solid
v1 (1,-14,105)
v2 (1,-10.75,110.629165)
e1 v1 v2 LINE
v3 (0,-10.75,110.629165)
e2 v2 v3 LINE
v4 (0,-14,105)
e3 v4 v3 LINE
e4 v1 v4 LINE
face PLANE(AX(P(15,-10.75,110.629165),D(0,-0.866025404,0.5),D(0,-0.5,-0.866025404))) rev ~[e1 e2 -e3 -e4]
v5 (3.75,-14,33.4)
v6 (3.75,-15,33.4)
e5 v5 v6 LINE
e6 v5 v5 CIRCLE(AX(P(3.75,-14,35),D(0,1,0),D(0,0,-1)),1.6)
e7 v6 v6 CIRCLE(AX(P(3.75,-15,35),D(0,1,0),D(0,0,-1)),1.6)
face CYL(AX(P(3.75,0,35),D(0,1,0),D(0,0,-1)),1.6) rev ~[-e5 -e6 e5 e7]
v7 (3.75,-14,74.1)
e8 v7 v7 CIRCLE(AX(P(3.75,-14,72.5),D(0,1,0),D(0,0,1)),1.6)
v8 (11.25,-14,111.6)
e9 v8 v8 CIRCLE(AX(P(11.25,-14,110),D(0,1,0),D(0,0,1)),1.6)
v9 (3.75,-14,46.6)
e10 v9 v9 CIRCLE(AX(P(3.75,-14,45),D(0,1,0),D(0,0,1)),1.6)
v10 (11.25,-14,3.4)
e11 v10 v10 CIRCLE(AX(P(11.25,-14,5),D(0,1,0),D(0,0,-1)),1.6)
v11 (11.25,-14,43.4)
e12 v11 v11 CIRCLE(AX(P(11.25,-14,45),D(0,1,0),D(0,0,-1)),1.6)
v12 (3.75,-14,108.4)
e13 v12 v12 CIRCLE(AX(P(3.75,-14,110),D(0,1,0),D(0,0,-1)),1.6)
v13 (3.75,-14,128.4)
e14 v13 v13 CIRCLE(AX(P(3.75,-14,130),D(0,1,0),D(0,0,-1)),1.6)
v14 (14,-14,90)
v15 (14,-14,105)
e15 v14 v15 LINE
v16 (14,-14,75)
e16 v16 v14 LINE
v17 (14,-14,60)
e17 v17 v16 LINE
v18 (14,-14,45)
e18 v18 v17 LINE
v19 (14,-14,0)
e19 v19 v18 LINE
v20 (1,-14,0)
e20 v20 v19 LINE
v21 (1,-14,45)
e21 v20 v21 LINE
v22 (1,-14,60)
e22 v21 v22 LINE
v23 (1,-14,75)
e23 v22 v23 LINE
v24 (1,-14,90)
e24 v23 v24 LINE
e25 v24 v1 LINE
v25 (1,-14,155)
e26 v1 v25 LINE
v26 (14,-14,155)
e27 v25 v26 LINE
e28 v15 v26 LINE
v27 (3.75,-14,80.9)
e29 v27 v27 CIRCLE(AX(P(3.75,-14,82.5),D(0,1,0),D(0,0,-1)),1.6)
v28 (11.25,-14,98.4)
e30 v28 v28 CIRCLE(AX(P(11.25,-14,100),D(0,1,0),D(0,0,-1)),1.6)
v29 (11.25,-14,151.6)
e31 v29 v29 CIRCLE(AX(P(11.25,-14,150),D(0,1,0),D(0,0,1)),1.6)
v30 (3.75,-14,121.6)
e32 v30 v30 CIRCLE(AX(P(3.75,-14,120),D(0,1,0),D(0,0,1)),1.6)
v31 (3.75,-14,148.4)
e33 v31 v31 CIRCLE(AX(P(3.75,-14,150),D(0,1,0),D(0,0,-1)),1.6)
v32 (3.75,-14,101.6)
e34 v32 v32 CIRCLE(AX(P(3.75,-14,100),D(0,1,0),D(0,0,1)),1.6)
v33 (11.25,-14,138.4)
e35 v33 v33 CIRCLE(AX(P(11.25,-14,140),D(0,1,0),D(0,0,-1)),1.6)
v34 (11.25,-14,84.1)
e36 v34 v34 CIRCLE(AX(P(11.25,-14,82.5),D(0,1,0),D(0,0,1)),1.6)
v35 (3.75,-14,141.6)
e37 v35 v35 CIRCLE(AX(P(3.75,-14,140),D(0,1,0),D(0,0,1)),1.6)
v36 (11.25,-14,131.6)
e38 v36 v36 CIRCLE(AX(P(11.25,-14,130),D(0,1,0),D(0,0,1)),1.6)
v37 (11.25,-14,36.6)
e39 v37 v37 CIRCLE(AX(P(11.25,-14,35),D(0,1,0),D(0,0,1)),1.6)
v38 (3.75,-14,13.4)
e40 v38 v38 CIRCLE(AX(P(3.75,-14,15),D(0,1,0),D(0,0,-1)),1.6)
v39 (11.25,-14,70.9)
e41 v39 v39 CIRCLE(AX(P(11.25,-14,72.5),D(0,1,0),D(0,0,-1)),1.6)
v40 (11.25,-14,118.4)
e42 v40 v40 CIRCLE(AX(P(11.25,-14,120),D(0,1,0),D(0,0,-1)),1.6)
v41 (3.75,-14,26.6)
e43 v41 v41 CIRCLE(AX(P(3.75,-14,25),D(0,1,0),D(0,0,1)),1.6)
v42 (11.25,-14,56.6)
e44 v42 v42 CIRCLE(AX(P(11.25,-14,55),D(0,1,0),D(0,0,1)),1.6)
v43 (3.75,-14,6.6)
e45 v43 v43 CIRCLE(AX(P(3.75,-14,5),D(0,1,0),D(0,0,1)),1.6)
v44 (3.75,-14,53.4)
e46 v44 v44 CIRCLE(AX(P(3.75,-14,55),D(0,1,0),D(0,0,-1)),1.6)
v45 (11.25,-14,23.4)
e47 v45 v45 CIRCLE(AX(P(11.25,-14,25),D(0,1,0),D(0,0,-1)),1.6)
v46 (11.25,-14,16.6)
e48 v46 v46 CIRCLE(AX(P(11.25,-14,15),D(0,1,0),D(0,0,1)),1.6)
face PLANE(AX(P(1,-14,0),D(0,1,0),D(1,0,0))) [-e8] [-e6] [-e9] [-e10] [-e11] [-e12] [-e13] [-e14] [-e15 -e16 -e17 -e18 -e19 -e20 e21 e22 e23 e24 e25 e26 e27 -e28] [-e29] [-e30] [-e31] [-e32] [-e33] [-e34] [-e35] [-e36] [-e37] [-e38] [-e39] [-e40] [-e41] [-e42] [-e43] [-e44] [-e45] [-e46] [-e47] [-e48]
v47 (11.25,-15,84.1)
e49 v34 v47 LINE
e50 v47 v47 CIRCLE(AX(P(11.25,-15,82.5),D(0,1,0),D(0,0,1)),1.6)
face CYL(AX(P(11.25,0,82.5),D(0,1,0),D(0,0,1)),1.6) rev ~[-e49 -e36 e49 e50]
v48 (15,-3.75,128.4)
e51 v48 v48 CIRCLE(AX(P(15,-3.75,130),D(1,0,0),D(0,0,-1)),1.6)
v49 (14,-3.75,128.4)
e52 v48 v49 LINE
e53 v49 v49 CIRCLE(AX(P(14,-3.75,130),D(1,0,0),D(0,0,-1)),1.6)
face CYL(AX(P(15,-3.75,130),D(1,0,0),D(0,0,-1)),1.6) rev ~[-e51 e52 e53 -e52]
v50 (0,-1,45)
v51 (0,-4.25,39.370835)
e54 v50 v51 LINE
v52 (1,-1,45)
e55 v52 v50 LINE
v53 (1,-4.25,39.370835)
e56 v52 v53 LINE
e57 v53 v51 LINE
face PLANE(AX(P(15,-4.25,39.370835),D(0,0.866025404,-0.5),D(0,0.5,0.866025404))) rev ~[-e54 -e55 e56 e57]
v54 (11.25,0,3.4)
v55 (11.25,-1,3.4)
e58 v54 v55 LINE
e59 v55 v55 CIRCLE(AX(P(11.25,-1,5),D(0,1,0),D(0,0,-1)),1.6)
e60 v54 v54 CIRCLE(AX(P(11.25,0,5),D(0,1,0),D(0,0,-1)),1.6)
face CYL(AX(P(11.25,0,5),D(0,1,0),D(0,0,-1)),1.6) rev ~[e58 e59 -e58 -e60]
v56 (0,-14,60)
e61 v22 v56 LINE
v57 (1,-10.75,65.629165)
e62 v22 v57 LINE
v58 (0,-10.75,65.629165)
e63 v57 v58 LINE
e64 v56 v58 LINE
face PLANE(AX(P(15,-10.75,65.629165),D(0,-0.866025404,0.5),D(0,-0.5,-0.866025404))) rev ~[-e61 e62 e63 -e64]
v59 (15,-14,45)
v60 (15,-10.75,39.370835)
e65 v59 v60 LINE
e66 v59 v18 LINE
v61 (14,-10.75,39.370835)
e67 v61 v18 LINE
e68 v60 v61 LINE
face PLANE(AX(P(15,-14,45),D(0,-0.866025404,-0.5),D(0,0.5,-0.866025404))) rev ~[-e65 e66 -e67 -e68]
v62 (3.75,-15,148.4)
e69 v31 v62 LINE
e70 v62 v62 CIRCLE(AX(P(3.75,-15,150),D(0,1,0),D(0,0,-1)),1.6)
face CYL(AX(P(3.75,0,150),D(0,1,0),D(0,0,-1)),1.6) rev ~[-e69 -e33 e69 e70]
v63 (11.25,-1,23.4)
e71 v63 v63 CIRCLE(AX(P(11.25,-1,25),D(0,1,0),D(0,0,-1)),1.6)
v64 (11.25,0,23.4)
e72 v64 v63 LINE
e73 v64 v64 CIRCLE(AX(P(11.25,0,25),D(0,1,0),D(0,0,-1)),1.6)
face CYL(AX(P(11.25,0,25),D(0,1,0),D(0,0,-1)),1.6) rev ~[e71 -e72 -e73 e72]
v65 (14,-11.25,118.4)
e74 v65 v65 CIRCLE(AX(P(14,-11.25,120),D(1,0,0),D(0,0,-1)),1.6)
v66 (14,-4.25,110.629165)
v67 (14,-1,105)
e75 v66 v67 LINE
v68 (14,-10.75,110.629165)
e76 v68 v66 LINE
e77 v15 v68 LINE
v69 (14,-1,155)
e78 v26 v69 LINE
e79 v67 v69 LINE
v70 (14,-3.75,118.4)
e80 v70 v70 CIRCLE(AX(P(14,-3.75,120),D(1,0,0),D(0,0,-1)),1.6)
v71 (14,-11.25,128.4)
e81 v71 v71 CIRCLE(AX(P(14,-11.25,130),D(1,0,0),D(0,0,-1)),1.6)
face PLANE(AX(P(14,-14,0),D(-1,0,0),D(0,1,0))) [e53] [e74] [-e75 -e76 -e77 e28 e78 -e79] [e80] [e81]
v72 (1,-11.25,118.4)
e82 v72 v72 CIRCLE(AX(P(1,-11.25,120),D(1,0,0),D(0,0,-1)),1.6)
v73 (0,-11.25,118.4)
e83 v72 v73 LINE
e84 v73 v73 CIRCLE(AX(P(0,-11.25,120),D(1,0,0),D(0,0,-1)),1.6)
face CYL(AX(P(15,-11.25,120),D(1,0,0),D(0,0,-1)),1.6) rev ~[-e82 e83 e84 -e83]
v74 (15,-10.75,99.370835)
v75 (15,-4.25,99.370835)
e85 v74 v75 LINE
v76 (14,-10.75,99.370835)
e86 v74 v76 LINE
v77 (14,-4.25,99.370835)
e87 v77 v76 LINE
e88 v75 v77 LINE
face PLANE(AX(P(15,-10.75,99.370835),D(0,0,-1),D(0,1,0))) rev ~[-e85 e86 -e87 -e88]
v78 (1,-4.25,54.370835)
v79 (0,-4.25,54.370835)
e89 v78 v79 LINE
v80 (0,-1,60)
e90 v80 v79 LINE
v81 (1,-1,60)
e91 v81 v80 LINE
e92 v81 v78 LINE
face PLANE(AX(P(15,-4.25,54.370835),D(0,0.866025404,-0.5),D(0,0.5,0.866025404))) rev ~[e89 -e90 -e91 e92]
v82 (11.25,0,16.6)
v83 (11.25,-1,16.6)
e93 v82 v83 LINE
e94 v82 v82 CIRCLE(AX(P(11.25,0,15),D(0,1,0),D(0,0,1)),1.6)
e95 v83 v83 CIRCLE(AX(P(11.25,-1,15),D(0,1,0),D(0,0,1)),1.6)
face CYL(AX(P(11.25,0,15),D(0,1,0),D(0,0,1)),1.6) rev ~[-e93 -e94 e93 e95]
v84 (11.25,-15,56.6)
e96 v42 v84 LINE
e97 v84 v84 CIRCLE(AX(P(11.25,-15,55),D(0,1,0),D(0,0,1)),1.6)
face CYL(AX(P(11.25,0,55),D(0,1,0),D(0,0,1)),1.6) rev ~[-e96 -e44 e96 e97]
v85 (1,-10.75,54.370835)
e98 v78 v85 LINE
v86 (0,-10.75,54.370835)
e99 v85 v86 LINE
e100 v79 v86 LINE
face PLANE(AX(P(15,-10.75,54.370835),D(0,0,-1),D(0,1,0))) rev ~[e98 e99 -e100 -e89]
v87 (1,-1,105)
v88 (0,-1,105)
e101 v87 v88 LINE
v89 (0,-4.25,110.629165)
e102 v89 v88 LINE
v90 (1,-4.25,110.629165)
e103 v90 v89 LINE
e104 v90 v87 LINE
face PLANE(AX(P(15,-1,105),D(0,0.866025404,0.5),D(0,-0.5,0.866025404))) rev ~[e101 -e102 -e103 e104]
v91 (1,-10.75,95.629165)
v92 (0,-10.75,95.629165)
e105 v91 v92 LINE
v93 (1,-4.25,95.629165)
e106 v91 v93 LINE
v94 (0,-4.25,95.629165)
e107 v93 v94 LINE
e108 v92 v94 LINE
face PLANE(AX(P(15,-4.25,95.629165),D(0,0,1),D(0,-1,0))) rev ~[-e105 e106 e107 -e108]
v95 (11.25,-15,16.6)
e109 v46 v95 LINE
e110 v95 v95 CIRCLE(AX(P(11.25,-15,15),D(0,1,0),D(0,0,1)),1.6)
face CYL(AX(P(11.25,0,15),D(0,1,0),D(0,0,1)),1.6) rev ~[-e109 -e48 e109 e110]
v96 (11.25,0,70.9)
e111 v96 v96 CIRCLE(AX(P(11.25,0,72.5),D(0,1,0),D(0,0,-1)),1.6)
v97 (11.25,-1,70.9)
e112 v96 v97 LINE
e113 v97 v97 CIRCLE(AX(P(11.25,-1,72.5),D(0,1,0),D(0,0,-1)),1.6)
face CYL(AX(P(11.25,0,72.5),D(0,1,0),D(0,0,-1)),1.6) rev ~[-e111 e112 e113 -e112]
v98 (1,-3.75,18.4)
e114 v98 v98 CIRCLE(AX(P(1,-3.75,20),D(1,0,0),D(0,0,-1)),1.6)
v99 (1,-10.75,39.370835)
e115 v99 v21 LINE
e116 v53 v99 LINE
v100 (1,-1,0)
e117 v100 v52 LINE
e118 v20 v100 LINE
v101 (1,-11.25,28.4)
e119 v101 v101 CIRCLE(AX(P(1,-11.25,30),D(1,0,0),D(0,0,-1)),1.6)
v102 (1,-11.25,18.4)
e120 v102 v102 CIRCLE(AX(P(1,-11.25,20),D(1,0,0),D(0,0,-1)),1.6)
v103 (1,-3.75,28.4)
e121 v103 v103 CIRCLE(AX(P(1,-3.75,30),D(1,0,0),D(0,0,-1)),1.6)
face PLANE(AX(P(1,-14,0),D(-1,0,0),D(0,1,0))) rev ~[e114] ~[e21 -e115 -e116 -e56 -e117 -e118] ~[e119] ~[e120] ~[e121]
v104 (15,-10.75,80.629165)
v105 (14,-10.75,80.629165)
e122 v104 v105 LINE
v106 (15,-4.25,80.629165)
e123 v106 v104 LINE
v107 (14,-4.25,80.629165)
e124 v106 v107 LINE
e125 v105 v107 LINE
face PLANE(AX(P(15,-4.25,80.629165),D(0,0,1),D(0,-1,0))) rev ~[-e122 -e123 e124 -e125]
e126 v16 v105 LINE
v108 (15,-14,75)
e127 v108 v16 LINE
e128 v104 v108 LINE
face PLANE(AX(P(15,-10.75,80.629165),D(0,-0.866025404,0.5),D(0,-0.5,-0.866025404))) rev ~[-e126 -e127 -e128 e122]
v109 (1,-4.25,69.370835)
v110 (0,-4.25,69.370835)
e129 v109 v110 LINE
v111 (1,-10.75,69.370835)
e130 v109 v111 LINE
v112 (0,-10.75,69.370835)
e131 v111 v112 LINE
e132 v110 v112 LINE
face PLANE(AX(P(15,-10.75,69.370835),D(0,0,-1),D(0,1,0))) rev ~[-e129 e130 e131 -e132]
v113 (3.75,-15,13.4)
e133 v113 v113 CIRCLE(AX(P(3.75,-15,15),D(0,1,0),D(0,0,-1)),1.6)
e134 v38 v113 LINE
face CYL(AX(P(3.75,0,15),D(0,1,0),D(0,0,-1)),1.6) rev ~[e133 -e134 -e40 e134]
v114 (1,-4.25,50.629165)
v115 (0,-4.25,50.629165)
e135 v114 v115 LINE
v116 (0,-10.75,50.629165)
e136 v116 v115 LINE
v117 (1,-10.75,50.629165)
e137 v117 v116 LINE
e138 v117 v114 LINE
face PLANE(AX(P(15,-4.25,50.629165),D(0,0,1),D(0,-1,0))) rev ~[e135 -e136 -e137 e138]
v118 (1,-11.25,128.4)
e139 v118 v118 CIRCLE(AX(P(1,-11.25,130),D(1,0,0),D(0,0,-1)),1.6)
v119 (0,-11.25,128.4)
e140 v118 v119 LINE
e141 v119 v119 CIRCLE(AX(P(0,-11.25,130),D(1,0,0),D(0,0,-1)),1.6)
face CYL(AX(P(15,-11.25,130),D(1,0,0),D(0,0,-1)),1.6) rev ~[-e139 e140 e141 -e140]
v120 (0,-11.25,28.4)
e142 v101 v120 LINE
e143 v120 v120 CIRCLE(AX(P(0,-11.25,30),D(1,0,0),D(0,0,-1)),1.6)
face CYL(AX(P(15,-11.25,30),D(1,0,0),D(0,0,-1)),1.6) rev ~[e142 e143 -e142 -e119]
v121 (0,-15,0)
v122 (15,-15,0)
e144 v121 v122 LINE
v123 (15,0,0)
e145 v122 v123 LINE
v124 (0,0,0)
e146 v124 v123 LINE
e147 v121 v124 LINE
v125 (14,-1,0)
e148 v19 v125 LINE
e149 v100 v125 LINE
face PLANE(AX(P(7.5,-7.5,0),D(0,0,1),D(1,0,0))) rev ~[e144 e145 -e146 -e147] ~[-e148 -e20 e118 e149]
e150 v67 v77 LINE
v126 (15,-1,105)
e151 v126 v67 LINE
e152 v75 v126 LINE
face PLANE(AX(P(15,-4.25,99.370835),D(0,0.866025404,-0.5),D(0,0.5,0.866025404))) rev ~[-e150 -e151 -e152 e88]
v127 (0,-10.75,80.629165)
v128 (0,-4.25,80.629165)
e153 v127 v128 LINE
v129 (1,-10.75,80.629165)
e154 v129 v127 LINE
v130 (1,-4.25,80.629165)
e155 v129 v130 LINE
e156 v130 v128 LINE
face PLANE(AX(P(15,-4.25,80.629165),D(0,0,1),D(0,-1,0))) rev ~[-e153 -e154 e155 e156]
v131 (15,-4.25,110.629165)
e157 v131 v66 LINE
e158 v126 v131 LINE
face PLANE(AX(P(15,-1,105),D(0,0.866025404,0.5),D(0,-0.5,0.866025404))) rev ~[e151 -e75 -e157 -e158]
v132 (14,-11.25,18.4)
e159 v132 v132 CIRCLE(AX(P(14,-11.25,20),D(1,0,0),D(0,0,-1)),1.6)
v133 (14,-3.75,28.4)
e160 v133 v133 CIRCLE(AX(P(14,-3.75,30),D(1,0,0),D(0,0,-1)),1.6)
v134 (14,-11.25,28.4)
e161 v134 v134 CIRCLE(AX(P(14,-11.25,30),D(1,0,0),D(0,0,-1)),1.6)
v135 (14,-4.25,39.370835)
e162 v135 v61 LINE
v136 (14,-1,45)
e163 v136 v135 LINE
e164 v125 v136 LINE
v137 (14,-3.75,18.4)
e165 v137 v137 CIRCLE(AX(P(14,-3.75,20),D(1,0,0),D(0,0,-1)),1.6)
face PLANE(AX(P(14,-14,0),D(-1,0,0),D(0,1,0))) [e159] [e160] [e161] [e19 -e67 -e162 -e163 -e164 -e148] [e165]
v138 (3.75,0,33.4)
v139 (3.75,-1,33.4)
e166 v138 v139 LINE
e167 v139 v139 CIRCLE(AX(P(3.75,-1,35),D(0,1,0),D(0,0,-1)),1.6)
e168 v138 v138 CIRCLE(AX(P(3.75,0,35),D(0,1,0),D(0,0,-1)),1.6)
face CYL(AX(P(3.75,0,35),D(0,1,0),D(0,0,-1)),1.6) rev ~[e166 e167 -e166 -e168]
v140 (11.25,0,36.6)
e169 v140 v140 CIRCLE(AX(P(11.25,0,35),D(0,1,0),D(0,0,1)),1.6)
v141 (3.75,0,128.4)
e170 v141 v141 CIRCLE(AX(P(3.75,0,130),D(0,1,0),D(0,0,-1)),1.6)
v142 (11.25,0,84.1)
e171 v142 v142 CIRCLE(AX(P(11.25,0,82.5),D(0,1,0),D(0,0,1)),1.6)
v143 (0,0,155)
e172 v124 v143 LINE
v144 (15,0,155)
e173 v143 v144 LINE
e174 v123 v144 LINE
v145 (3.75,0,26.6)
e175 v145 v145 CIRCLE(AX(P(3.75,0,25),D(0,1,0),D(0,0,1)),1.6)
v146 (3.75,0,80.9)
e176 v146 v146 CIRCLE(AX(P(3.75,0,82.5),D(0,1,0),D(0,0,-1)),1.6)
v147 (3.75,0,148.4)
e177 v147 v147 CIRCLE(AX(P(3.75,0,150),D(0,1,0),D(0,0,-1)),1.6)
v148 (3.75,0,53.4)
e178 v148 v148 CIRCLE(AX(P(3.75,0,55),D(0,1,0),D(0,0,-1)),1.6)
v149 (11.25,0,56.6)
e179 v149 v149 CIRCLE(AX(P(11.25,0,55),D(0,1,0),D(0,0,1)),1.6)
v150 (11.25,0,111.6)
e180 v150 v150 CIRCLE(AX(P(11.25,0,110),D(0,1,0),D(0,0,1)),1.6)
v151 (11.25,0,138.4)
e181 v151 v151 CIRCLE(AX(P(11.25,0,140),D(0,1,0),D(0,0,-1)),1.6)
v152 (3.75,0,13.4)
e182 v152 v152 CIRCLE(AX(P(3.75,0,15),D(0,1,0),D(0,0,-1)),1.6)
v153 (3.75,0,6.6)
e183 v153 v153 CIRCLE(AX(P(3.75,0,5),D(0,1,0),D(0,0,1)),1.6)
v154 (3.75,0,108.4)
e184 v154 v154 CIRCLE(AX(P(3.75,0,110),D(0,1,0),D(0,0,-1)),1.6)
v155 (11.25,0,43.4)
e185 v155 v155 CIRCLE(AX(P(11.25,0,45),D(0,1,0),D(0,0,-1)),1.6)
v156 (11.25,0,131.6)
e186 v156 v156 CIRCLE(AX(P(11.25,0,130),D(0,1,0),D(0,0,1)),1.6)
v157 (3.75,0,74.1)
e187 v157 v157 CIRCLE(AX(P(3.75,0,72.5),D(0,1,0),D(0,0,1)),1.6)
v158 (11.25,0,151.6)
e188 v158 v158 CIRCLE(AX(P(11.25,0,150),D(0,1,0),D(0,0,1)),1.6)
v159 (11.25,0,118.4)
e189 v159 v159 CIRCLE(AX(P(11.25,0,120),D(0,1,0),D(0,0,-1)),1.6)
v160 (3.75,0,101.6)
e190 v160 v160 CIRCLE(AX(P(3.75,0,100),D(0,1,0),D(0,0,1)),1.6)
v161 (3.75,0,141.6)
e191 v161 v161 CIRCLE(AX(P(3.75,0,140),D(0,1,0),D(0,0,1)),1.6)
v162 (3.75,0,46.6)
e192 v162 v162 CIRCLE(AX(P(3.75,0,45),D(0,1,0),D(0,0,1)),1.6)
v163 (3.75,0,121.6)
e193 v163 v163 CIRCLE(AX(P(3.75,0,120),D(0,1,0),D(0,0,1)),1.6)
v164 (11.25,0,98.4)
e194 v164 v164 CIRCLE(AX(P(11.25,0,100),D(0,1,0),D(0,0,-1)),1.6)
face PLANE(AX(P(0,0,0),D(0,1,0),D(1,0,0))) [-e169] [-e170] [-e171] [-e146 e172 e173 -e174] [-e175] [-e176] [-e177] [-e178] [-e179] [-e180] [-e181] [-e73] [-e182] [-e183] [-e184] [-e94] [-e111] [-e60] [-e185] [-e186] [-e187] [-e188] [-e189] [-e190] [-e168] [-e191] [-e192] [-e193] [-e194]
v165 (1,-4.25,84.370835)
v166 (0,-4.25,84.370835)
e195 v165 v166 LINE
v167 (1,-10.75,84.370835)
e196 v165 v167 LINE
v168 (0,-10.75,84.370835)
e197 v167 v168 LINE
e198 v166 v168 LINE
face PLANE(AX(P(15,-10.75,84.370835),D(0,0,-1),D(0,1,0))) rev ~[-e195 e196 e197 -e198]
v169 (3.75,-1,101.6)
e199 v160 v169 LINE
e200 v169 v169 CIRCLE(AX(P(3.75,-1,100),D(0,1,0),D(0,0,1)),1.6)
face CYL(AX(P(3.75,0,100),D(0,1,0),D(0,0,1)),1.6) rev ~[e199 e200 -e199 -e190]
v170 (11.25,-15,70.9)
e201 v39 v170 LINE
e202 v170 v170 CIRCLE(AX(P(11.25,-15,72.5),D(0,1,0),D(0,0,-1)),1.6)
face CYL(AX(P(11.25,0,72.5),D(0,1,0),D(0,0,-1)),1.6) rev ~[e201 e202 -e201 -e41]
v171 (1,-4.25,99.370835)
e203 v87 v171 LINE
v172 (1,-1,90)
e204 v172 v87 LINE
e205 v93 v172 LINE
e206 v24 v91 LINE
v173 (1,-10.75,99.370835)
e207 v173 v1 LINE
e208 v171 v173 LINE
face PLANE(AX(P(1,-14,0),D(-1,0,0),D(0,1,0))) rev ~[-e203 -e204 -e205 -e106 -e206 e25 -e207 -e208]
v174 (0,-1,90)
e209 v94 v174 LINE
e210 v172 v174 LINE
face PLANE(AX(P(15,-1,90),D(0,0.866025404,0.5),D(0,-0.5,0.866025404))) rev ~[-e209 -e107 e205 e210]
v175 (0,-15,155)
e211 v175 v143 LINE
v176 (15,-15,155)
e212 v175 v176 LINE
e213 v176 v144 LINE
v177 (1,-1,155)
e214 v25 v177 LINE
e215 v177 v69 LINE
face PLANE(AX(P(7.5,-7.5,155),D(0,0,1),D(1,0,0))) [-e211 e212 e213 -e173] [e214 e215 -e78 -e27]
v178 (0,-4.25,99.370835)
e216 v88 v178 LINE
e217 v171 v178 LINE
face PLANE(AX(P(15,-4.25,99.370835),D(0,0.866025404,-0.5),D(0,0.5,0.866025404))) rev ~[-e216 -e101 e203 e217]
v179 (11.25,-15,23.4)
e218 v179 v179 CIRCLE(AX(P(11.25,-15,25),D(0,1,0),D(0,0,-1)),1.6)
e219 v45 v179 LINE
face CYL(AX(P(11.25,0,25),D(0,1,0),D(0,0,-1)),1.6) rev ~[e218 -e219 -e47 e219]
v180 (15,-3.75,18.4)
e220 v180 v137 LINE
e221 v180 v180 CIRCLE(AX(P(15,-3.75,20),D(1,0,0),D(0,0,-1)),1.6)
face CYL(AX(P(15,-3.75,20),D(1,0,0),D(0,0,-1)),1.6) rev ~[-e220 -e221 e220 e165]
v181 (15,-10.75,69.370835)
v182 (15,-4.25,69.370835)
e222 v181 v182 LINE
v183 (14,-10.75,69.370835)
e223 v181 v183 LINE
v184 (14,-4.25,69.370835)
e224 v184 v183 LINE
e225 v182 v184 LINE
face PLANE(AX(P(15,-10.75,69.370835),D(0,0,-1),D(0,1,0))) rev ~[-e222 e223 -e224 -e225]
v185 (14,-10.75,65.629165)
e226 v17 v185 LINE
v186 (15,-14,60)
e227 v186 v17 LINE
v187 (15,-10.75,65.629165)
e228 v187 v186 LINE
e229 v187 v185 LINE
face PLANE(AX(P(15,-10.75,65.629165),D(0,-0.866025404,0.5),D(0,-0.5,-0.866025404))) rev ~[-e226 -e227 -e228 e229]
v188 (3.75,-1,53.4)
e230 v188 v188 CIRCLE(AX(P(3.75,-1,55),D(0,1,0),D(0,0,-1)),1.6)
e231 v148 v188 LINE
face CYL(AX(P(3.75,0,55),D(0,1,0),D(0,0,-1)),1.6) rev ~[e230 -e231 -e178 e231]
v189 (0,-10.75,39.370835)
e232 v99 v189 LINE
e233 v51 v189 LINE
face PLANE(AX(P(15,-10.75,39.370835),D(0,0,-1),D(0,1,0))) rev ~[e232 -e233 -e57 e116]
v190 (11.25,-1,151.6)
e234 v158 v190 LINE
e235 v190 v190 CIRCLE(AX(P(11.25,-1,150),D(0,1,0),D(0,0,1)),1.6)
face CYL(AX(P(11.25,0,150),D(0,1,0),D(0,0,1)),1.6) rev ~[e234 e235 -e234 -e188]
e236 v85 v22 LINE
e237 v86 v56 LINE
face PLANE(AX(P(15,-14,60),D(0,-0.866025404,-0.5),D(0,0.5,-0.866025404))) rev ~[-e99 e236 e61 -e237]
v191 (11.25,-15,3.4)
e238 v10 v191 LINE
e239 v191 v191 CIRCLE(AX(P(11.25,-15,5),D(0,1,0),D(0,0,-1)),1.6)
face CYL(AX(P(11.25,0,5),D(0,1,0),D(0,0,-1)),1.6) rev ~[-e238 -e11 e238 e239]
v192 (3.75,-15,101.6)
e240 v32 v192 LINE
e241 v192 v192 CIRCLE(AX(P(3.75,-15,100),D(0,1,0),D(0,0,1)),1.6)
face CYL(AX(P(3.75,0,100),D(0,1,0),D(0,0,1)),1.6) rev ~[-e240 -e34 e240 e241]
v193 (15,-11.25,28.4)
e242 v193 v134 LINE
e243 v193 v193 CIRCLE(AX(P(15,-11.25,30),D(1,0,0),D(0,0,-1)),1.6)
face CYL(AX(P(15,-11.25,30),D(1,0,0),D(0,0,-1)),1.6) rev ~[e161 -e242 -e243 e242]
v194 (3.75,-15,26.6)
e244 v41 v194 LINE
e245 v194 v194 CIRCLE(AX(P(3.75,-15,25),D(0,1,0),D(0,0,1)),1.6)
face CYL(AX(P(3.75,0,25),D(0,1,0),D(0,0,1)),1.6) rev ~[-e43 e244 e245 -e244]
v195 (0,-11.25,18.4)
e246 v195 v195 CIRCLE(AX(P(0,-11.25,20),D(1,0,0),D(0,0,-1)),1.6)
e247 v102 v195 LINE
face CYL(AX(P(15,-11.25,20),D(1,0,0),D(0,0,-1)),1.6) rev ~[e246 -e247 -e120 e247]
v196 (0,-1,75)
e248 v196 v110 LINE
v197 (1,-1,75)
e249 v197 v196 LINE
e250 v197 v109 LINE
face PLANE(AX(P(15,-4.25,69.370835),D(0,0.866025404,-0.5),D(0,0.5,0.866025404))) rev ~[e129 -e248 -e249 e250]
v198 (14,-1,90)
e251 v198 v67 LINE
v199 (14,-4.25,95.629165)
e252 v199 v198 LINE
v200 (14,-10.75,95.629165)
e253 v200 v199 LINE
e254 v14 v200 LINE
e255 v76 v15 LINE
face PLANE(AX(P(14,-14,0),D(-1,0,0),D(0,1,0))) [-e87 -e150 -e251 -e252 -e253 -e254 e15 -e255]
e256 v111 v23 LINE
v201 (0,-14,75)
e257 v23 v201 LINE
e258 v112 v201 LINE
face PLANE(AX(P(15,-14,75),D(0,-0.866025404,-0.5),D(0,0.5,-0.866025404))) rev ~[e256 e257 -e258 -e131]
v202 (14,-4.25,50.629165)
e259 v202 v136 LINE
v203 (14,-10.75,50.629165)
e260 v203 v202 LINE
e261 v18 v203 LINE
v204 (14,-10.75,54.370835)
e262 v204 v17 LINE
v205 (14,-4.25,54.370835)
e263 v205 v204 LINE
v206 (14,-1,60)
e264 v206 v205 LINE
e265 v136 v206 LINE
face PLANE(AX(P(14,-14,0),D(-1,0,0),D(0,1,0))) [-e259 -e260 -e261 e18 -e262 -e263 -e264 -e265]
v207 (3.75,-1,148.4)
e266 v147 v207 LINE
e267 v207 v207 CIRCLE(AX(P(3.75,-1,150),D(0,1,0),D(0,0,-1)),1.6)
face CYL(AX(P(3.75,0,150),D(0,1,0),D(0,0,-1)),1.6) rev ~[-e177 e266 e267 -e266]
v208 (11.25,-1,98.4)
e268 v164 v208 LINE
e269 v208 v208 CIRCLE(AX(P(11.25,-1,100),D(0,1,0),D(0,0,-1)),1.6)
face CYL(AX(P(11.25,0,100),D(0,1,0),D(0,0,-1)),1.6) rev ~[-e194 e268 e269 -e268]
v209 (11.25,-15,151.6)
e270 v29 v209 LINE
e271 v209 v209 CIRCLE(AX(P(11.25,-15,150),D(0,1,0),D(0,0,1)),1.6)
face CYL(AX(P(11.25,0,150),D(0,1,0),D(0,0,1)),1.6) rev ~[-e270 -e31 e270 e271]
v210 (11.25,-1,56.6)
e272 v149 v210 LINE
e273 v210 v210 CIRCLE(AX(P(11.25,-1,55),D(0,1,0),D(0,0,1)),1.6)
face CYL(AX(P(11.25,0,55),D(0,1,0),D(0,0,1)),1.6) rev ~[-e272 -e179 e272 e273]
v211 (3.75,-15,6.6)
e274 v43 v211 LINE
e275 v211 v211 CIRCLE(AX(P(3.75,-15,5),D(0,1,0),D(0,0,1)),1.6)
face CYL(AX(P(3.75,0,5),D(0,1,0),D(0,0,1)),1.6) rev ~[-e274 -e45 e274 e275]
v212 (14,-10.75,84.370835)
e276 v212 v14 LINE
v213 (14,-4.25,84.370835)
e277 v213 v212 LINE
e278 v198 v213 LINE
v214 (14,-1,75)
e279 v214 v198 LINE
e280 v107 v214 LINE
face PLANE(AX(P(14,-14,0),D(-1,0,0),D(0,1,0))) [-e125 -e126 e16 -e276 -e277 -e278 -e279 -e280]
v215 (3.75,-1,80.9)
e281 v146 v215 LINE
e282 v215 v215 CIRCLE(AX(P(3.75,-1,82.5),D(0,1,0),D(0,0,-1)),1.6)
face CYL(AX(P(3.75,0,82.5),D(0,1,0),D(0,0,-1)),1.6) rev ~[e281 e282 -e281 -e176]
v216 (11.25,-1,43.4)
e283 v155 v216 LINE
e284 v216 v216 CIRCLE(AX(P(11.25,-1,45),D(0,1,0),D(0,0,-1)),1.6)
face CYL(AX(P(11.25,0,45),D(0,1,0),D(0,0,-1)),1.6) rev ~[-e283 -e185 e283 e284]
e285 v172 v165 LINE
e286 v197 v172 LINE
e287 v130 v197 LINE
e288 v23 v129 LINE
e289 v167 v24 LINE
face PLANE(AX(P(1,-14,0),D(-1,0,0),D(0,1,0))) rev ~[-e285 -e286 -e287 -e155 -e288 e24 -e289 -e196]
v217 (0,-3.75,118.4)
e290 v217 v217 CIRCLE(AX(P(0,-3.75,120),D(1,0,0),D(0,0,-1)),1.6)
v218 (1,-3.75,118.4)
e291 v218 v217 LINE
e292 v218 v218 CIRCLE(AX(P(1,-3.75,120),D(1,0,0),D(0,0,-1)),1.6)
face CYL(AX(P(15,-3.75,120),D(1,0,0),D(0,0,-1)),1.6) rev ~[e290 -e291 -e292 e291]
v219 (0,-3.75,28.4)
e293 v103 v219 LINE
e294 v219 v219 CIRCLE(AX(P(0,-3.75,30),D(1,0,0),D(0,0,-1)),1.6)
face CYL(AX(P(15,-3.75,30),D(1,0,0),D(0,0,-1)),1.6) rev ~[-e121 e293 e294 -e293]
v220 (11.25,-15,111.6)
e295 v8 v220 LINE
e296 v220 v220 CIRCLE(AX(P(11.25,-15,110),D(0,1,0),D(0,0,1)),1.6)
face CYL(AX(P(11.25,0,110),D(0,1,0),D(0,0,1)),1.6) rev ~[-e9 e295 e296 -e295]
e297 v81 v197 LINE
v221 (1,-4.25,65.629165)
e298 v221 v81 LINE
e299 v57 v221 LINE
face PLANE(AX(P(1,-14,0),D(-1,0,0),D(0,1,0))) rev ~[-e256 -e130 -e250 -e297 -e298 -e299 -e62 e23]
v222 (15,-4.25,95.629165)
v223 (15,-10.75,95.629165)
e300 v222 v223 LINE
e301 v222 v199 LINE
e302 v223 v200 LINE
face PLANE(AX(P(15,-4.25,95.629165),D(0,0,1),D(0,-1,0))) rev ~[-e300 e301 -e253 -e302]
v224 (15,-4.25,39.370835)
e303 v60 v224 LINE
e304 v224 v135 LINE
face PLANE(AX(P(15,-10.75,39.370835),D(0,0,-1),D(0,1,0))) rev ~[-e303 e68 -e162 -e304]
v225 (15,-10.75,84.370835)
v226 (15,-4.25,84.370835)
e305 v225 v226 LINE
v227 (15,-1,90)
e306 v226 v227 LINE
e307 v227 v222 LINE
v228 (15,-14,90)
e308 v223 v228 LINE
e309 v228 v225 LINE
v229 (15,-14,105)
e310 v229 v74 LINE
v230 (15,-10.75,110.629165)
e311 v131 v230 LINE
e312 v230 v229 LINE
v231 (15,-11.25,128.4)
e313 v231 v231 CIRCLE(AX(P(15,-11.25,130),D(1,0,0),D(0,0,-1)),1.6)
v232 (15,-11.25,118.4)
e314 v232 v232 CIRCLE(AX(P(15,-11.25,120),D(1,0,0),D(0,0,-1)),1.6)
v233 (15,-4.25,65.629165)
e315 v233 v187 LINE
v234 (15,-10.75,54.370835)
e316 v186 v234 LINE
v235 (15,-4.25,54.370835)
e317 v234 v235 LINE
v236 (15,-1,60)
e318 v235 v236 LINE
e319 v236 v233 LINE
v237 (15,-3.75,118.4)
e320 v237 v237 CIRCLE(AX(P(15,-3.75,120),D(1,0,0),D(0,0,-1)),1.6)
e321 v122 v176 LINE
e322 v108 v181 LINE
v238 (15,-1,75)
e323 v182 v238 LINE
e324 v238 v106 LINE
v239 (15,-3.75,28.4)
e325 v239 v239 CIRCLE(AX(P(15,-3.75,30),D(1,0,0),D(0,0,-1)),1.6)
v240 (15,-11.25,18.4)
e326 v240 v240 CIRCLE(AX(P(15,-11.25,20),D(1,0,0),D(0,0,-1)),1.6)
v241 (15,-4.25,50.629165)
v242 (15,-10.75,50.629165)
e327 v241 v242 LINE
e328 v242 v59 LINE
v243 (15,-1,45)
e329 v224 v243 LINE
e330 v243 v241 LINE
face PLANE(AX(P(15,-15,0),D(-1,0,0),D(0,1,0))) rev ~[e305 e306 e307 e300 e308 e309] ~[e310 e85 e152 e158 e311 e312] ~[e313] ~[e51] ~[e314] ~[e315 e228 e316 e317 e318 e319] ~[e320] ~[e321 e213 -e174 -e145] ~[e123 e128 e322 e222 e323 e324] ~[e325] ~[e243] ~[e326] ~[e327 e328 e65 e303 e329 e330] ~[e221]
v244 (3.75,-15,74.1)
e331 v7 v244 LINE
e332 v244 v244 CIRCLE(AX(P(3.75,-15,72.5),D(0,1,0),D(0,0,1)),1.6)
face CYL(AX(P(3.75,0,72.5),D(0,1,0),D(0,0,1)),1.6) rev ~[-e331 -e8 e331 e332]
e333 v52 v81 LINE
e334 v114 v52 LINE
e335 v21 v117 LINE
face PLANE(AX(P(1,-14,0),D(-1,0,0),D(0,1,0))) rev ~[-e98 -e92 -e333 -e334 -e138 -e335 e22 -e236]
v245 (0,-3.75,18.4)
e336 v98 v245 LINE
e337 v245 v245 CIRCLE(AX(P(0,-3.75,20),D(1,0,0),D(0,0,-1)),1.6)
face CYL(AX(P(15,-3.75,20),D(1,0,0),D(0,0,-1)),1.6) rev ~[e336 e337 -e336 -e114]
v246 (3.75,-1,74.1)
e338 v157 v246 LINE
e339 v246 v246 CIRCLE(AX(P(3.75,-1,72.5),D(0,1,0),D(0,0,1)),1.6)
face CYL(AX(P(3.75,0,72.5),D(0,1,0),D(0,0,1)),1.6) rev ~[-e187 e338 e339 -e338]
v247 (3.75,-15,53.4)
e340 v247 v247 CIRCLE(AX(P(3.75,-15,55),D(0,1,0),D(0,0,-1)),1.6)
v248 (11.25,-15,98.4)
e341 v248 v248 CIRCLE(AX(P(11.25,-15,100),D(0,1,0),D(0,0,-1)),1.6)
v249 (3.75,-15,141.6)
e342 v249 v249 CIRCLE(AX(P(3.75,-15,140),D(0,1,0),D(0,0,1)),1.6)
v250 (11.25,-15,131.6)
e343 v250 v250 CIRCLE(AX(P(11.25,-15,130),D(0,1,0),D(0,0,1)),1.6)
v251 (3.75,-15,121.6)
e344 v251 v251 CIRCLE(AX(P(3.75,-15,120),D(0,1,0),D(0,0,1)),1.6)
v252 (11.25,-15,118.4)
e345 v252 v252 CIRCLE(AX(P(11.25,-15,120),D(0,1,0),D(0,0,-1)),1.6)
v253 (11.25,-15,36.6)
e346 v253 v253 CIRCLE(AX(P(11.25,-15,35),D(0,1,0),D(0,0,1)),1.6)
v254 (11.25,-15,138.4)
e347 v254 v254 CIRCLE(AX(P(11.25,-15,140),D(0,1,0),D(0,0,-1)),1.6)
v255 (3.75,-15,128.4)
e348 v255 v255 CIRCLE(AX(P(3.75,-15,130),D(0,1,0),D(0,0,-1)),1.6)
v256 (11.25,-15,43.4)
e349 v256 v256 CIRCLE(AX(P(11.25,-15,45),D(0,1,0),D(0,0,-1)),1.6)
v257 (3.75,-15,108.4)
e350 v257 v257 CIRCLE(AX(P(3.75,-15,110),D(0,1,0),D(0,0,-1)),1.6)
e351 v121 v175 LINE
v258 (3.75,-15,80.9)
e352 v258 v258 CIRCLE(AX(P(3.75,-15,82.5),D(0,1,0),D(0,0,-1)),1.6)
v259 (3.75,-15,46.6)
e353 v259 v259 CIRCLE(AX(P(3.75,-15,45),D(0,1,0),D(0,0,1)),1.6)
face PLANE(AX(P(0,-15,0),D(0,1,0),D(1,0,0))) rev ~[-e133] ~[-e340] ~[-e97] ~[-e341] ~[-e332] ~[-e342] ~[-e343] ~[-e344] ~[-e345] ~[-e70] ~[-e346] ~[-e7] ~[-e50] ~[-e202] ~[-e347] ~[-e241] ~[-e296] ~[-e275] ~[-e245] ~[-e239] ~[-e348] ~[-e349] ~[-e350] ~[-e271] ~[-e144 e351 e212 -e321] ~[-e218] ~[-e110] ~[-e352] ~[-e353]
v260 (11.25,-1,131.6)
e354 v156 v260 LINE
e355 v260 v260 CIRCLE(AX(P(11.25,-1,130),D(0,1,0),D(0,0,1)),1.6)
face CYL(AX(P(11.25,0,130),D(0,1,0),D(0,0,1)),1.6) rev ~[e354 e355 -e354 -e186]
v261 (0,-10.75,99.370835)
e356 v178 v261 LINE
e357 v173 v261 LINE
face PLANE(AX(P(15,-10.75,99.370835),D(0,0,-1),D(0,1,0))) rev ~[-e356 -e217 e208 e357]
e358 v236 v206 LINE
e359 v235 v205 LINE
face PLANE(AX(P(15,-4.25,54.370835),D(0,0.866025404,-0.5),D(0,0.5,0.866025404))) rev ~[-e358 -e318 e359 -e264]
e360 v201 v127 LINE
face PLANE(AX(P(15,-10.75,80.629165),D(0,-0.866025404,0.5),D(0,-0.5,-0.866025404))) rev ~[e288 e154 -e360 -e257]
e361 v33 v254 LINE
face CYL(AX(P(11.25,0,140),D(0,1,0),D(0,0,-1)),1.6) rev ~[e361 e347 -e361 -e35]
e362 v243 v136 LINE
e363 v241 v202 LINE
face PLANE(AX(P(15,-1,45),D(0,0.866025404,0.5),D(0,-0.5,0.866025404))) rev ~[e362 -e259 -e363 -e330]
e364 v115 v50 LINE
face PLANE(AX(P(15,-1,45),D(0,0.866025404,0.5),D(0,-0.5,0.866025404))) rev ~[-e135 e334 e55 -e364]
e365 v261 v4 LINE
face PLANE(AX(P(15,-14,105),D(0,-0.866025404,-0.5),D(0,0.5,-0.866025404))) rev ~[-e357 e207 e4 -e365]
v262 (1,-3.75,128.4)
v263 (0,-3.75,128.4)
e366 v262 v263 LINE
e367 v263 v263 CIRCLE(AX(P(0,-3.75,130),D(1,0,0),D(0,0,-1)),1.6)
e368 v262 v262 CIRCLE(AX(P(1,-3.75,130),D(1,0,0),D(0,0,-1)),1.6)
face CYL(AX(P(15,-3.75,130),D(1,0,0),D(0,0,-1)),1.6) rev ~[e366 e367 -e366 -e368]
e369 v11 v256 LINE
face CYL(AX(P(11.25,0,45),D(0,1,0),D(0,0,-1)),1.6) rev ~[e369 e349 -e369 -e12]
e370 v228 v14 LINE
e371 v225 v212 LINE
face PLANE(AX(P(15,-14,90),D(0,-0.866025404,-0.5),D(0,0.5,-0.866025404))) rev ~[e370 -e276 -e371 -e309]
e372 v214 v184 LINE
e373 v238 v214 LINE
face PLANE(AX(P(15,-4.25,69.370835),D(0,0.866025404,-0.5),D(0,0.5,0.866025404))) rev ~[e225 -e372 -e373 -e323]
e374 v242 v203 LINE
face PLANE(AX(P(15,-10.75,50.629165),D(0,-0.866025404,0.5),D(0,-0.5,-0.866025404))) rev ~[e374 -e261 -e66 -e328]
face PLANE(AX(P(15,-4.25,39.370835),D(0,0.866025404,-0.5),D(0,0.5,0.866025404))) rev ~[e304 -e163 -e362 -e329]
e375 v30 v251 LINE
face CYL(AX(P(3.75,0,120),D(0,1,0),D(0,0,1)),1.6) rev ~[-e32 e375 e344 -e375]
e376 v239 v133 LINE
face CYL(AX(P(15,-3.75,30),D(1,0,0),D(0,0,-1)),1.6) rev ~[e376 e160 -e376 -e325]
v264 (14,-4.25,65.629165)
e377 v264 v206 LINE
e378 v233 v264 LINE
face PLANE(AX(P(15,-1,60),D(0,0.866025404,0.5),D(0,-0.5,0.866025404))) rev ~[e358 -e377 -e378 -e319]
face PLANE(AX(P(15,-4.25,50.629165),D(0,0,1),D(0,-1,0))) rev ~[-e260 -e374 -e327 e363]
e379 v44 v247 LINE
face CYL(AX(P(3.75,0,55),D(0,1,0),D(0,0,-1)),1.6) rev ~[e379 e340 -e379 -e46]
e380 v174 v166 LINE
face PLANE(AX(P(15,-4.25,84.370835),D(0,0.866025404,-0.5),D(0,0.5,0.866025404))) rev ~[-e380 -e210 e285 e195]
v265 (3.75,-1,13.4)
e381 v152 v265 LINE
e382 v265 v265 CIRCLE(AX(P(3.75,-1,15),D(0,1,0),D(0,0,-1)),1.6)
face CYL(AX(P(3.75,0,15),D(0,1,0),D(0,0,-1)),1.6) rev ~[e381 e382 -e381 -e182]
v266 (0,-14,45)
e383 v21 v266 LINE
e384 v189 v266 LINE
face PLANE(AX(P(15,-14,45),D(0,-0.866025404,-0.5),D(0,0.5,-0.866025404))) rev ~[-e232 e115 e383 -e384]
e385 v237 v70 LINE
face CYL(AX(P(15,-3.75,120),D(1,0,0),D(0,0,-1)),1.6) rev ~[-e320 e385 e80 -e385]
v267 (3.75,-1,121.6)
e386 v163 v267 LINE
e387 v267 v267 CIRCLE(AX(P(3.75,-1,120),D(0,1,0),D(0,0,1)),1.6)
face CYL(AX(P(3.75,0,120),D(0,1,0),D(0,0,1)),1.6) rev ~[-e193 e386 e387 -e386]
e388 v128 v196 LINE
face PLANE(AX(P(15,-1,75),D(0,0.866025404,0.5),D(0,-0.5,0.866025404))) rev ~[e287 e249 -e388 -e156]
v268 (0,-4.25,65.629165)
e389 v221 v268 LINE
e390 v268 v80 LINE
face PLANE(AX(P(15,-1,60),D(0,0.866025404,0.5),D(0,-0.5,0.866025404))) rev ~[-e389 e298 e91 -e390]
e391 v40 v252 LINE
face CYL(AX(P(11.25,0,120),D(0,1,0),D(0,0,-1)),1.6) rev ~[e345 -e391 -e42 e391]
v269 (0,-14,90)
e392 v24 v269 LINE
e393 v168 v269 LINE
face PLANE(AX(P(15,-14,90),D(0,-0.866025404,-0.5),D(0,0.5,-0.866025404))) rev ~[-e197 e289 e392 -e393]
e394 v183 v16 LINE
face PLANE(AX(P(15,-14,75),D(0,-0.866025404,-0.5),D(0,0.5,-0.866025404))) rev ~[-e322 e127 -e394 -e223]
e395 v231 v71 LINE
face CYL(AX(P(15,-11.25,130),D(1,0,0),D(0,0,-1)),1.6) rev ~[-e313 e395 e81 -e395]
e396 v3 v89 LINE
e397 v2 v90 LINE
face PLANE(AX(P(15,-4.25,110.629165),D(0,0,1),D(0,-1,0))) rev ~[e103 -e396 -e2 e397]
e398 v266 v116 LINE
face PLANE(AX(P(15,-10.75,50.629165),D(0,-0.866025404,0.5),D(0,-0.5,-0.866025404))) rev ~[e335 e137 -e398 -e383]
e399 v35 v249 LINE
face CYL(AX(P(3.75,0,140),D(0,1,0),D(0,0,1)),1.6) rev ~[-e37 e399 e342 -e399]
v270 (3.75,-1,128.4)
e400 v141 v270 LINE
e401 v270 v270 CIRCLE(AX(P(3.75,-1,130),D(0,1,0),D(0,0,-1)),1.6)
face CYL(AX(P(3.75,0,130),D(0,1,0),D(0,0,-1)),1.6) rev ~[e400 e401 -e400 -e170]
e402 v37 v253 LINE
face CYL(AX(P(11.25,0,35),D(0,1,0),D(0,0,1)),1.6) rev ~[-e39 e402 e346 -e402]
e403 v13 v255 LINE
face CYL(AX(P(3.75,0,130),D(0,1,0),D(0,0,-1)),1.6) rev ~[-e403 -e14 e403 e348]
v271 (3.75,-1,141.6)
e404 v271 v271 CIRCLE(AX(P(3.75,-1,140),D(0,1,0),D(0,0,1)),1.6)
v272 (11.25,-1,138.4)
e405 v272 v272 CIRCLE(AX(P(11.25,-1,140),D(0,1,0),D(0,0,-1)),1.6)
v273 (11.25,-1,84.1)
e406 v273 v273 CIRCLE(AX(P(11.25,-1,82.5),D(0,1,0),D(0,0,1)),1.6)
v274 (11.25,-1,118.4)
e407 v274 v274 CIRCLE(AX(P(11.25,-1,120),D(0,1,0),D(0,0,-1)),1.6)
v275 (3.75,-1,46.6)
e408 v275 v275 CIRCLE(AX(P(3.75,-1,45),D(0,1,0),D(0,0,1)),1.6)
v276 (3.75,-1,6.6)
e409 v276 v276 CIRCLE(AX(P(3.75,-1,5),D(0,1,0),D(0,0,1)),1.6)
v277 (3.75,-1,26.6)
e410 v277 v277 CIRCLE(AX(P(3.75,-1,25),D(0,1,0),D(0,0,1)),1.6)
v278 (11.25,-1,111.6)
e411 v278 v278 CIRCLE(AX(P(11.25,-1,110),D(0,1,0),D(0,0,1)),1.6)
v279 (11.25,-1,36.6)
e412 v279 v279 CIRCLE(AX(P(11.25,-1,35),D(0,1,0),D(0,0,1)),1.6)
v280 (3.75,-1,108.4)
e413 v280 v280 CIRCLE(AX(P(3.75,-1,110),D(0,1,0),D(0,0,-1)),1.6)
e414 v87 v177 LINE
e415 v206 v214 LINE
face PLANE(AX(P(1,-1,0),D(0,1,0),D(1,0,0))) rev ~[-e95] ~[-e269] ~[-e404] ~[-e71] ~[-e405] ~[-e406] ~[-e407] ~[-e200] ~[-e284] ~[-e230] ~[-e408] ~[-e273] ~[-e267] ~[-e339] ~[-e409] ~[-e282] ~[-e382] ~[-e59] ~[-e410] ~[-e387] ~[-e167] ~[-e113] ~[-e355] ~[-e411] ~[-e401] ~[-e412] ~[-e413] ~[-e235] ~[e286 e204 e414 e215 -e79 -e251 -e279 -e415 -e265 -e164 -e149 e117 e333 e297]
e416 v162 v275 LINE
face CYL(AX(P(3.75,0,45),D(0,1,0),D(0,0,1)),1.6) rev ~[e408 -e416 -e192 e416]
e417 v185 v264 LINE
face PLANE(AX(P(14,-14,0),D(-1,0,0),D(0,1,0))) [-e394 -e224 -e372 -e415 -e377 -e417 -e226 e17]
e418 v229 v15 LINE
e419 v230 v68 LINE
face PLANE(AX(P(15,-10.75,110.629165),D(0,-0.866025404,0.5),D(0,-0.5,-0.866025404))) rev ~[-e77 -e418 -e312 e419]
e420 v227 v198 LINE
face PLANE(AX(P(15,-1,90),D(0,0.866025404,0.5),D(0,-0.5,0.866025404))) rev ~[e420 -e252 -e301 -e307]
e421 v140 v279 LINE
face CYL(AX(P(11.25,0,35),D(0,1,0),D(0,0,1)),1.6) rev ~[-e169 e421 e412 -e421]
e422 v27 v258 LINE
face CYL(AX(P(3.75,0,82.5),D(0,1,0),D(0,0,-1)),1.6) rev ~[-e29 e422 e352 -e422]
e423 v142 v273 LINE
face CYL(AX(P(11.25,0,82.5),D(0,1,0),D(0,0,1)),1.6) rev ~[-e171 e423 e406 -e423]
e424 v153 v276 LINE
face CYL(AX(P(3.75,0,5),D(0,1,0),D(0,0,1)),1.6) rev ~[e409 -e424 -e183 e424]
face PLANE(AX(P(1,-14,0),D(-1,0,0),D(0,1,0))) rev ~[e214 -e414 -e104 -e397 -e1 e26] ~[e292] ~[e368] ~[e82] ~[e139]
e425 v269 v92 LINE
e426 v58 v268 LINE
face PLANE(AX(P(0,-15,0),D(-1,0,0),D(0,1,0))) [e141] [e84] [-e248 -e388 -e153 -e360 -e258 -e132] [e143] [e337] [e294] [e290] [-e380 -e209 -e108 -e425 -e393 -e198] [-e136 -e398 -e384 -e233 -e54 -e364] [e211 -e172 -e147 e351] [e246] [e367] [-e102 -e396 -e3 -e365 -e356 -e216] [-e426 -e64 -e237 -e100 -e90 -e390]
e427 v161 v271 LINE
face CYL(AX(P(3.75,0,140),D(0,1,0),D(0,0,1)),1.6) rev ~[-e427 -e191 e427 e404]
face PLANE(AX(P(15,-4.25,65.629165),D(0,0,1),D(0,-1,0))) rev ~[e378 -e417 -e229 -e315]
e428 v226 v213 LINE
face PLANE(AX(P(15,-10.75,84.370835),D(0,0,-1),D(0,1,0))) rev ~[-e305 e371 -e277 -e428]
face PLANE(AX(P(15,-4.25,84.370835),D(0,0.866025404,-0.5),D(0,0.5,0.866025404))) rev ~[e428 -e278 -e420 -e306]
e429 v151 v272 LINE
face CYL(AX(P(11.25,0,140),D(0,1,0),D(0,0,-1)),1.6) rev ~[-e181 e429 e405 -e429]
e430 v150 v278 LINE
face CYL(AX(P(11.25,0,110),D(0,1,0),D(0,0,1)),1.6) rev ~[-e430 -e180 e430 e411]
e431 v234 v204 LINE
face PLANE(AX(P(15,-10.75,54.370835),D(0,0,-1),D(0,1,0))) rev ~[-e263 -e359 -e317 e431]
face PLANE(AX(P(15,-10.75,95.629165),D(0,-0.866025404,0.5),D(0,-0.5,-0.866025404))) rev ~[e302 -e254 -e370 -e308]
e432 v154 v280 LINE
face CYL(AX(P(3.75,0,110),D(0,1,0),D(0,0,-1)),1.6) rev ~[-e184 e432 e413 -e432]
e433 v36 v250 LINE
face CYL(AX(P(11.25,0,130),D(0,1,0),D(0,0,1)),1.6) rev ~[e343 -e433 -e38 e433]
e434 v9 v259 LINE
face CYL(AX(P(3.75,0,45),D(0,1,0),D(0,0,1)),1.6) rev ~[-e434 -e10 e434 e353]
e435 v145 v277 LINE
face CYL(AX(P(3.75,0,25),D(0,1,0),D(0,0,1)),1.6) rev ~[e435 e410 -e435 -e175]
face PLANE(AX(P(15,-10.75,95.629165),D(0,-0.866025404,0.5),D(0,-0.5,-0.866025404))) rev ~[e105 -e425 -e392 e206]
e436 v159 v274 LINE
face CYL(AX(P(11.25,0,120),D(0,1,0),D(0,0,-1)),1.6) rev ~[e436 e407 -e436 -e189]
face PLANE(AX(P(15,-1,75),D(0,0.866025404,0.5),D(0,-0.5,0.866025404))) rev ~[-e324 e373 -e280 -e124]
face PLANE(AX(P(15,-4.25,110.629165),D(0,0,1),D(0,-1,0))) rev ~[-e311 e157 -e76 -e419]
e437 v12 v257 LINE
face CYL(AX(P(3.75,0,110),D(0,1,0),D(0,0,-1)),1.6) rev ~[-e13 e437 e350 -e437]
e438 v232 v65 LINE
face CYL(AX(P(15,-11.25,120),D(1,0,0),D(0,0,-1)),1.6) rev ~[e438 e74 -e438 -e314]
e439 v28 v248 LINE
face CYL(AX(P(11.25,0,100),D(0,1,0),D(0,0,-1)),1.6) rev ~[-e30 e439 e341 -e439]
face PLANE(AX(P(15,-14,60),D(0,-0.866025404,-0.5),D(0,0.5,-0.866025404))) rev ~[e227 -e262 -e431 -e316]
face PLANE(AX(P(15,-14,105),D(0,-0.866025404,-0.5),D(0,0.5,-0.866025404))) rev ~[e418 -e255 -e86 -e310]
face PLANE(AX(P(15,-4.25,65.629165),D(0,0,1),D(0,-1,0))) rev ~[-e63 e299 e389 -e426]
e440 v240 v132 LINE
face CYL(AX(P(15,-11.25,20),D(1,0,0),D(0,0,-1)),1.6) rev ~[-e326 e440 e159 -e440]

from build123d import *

# Parameters (mm, degrees)
SKETCH_1_W          = 15
SKETCH_1_H          = 15
SKETCH_1_W_2        = 13
SKETCH_1_H_2        = 13
EXTRUDE_1_DEPTH     = 155
SKETCH_2_R          = 1.6
CUT_EXTRUDE_1_DEPTH = 157.444878472
SKETCH_3_R          = 1.6
CUT_EXTRUDE_2_DEPTH = 157.444878472


with BuildPart() as part:
    # 草图1 → 拉伸-薄壁1 (new body)
    with BuildSketch(Plane.XY):
        with Locations((7.5, -7.5)):
            Rectangle(SKETCH_1_W, SKETCH_1_H)
        with Locations((7.5, -7.5)):
            Rectangle(SKETCH_1_W_2, SKETCH_1_H_2, mode=Mode.SUBTRACT)
    extrude(amount=EXTRUDE_1_DEPTH)

    # 草图2 → 切除-拉伸1 (cut, through all)
    with BuildSketch(Plane(origin=(15, 0, 0), x_dir=(0, 0, -1), z_dir=(1, 0, 0))):
        with Locations((-130, -3.75)):
            Circle(SKETCH_2_R)
        with Locations((-130, -11.25)):
            Circle(SKETCH_2_R)
        with Locations((-120, -11.25)):
            Circle(SKETCH_2_R)
        with Locations((-120, -3.75)):
            Circle(SKETCH_2_R)
        with Locations((-20, -3.75)):
            Circle(SKETCH_2_R)
        with Locations((-20, -11.25)):
            Circle(SKETCH_2_R)
        with Locations((-30, -11.25)):
            Circle(SKETCH_2_R)
        with Locations((-30, -3.75)):
            Circle(SKETCH_2_R)
        Polygon((-105, -1), (-110.629165125, -4.25), (-110.629165125, -10.75), (-105, -14), (-99.370834875, -10.75), (-99.370834875, -4.25), align=None)
        Polygon((-84.370834875, -10.75), (-84.370834875, -4.25), (-90, -1), (-95.629165125, -4.25), (-95.629165125, -10.75), (-90, -14), align=None)
        Polygon((-69.370834875, -10.75), (-69.370834875, -4.25), (-75, -1), (-80.629165125, -4.25), (-80.629165125, -10.75), (-75, -14), align=None)
        Polygon((-54.370834875, -10.75), (-54.370834875, -4.25), (-60, -1), (-65.629165125, -4.25), (-65.629165125, -10.75), (-60, -14), align=None)
        Polygon((-39.370834875, -10.75), (-39.370834875, -4.25), (-45, -1), (-50.629165125, -4.25), (-50.629165125, -10.75), (-45, -14), align=None)
    extrude(amount=-CUT_EXTRUDE_1_DEPTH, mode=Mode.SUBTRACT)

    # 草图3 → 切除-拉伸2 (cut, through all)
    with BuildSketch(Plane(origin=(0, 0, 0), x_dir=(1, 0, 0), z_dir=(0, 1, 0))):
        with Locations(Location((3.75, -5, 0), (0, 0, 270))):
            Circle(SKETCH_3_R)
        with Locations(Location((11.25, -5, 0), (0, 0, 90))):
            Circle(SKETCH_3_R)
        with Locations(Location((11.25, -15, 0), (0, 0, 270))):
            Circle(SKETCH_3_R)
        with Locations(Location((3.75, -15, 0), (0, 0, 90))):
            Circle(SKETCH_3_R)
        with Locations(Location((3.75, -25, 0), (0, 0, 270))):
            Circle(SKETCH_3_R)
        with Locations(Location((11.25, -25, 0), (0, 0, 90))):
            Circle(SKETCH_3_R)
        with Locations(Location((11.25, -35, 0), (0, 0, 270))):
            Circle(SKETCH_3_R)
        with Locations(Location((3.75, -35, 0), (0, 0, 90))):
            Circle(SKETCH_3_R)
        with Locations(Location((3.75, -45, 0), (0, 0, 270))):
            Circle(SKETCH_3_R)
        with Locations(Location((11.25, -45, 0), (0, 0, 90))):
            Circle(SKETCH_3_R)
        with Locations(Location((11.25, -55, 0), (0, 0, 270))):
            Circle(SKETCH_3_R)
        with Locations(Location((3.75, -55, 0), (0, 0, 90))):
            Circle(SKETCH_3_R)
        with Locations(Location((3.75, -72.5, 0), (0, 0, 270))):
            Circle(SKETCH_3_R)
        with Locations(Location((11.25, -72.5, 0), (0, 0, 90))):
            Circle(SKETCH_3_R)
        with Locations(Location((11.25, -82.5, 0), (0, 0, 270))):
            Circle(SKETCH_3_R)
        with Locations(Location((3.75, -82.5, 0), (0, 0, 90))):
            Circle(SKETCH_3_R)
        with Locations(Location((3.75, -100, 0), (0, 0, 270))):
            Circle(SKETCH_3_R)
        with Locations(Location((11.25, -100, 0), (0, 0, 90))):
            Circle(SKETCH_3_R)
        with Locations(Location((11.25, -110, 0), (0, 0, 270))):
            Circle(SKETCH_3_R)
        with Locations(Location((3.75, -110, 0), (0, 0, 90))):
            Circle(SKETCH_3_R)
        with Locations(Location((3.75, -120, 0), (0, 0, 270))):
            Circle(SKETCH_3_R)
        with Locations(Location((11.25, -120, 0), (0, 0, 90))):
            Circle(SKETCH_3_R)
        with Locations(Location((11.25, -130, 0), (0, 0, 270))):
            Circle(SKETCH_3_R)
        with Locations(Location((3.75, -130, 0), (0, 0, 90))):
            Circle(SKETCH_3_R)
        with Locations(Location((3.75, -140, 0), (0, 0, 270))):
            Circle(SKETCH_3_R)
        with Locations(Location((11.25, -140, 0), (0, 0, 90))):
            Circle(SKETCH_3_R)
        with Locations(Location((11.25, -150, 0), (0, 0, 270))):
            Circle(SKETCH_3_R)
        with Locations(Location((3.75, -150, 0), (0, 0, 90))):
            Circle(SKETCH_3_R)
    extrude(amount=-CUT_EXTRUDE_2_DEPTH, mode=Mode.SUBTRACT)


solid = part.part
